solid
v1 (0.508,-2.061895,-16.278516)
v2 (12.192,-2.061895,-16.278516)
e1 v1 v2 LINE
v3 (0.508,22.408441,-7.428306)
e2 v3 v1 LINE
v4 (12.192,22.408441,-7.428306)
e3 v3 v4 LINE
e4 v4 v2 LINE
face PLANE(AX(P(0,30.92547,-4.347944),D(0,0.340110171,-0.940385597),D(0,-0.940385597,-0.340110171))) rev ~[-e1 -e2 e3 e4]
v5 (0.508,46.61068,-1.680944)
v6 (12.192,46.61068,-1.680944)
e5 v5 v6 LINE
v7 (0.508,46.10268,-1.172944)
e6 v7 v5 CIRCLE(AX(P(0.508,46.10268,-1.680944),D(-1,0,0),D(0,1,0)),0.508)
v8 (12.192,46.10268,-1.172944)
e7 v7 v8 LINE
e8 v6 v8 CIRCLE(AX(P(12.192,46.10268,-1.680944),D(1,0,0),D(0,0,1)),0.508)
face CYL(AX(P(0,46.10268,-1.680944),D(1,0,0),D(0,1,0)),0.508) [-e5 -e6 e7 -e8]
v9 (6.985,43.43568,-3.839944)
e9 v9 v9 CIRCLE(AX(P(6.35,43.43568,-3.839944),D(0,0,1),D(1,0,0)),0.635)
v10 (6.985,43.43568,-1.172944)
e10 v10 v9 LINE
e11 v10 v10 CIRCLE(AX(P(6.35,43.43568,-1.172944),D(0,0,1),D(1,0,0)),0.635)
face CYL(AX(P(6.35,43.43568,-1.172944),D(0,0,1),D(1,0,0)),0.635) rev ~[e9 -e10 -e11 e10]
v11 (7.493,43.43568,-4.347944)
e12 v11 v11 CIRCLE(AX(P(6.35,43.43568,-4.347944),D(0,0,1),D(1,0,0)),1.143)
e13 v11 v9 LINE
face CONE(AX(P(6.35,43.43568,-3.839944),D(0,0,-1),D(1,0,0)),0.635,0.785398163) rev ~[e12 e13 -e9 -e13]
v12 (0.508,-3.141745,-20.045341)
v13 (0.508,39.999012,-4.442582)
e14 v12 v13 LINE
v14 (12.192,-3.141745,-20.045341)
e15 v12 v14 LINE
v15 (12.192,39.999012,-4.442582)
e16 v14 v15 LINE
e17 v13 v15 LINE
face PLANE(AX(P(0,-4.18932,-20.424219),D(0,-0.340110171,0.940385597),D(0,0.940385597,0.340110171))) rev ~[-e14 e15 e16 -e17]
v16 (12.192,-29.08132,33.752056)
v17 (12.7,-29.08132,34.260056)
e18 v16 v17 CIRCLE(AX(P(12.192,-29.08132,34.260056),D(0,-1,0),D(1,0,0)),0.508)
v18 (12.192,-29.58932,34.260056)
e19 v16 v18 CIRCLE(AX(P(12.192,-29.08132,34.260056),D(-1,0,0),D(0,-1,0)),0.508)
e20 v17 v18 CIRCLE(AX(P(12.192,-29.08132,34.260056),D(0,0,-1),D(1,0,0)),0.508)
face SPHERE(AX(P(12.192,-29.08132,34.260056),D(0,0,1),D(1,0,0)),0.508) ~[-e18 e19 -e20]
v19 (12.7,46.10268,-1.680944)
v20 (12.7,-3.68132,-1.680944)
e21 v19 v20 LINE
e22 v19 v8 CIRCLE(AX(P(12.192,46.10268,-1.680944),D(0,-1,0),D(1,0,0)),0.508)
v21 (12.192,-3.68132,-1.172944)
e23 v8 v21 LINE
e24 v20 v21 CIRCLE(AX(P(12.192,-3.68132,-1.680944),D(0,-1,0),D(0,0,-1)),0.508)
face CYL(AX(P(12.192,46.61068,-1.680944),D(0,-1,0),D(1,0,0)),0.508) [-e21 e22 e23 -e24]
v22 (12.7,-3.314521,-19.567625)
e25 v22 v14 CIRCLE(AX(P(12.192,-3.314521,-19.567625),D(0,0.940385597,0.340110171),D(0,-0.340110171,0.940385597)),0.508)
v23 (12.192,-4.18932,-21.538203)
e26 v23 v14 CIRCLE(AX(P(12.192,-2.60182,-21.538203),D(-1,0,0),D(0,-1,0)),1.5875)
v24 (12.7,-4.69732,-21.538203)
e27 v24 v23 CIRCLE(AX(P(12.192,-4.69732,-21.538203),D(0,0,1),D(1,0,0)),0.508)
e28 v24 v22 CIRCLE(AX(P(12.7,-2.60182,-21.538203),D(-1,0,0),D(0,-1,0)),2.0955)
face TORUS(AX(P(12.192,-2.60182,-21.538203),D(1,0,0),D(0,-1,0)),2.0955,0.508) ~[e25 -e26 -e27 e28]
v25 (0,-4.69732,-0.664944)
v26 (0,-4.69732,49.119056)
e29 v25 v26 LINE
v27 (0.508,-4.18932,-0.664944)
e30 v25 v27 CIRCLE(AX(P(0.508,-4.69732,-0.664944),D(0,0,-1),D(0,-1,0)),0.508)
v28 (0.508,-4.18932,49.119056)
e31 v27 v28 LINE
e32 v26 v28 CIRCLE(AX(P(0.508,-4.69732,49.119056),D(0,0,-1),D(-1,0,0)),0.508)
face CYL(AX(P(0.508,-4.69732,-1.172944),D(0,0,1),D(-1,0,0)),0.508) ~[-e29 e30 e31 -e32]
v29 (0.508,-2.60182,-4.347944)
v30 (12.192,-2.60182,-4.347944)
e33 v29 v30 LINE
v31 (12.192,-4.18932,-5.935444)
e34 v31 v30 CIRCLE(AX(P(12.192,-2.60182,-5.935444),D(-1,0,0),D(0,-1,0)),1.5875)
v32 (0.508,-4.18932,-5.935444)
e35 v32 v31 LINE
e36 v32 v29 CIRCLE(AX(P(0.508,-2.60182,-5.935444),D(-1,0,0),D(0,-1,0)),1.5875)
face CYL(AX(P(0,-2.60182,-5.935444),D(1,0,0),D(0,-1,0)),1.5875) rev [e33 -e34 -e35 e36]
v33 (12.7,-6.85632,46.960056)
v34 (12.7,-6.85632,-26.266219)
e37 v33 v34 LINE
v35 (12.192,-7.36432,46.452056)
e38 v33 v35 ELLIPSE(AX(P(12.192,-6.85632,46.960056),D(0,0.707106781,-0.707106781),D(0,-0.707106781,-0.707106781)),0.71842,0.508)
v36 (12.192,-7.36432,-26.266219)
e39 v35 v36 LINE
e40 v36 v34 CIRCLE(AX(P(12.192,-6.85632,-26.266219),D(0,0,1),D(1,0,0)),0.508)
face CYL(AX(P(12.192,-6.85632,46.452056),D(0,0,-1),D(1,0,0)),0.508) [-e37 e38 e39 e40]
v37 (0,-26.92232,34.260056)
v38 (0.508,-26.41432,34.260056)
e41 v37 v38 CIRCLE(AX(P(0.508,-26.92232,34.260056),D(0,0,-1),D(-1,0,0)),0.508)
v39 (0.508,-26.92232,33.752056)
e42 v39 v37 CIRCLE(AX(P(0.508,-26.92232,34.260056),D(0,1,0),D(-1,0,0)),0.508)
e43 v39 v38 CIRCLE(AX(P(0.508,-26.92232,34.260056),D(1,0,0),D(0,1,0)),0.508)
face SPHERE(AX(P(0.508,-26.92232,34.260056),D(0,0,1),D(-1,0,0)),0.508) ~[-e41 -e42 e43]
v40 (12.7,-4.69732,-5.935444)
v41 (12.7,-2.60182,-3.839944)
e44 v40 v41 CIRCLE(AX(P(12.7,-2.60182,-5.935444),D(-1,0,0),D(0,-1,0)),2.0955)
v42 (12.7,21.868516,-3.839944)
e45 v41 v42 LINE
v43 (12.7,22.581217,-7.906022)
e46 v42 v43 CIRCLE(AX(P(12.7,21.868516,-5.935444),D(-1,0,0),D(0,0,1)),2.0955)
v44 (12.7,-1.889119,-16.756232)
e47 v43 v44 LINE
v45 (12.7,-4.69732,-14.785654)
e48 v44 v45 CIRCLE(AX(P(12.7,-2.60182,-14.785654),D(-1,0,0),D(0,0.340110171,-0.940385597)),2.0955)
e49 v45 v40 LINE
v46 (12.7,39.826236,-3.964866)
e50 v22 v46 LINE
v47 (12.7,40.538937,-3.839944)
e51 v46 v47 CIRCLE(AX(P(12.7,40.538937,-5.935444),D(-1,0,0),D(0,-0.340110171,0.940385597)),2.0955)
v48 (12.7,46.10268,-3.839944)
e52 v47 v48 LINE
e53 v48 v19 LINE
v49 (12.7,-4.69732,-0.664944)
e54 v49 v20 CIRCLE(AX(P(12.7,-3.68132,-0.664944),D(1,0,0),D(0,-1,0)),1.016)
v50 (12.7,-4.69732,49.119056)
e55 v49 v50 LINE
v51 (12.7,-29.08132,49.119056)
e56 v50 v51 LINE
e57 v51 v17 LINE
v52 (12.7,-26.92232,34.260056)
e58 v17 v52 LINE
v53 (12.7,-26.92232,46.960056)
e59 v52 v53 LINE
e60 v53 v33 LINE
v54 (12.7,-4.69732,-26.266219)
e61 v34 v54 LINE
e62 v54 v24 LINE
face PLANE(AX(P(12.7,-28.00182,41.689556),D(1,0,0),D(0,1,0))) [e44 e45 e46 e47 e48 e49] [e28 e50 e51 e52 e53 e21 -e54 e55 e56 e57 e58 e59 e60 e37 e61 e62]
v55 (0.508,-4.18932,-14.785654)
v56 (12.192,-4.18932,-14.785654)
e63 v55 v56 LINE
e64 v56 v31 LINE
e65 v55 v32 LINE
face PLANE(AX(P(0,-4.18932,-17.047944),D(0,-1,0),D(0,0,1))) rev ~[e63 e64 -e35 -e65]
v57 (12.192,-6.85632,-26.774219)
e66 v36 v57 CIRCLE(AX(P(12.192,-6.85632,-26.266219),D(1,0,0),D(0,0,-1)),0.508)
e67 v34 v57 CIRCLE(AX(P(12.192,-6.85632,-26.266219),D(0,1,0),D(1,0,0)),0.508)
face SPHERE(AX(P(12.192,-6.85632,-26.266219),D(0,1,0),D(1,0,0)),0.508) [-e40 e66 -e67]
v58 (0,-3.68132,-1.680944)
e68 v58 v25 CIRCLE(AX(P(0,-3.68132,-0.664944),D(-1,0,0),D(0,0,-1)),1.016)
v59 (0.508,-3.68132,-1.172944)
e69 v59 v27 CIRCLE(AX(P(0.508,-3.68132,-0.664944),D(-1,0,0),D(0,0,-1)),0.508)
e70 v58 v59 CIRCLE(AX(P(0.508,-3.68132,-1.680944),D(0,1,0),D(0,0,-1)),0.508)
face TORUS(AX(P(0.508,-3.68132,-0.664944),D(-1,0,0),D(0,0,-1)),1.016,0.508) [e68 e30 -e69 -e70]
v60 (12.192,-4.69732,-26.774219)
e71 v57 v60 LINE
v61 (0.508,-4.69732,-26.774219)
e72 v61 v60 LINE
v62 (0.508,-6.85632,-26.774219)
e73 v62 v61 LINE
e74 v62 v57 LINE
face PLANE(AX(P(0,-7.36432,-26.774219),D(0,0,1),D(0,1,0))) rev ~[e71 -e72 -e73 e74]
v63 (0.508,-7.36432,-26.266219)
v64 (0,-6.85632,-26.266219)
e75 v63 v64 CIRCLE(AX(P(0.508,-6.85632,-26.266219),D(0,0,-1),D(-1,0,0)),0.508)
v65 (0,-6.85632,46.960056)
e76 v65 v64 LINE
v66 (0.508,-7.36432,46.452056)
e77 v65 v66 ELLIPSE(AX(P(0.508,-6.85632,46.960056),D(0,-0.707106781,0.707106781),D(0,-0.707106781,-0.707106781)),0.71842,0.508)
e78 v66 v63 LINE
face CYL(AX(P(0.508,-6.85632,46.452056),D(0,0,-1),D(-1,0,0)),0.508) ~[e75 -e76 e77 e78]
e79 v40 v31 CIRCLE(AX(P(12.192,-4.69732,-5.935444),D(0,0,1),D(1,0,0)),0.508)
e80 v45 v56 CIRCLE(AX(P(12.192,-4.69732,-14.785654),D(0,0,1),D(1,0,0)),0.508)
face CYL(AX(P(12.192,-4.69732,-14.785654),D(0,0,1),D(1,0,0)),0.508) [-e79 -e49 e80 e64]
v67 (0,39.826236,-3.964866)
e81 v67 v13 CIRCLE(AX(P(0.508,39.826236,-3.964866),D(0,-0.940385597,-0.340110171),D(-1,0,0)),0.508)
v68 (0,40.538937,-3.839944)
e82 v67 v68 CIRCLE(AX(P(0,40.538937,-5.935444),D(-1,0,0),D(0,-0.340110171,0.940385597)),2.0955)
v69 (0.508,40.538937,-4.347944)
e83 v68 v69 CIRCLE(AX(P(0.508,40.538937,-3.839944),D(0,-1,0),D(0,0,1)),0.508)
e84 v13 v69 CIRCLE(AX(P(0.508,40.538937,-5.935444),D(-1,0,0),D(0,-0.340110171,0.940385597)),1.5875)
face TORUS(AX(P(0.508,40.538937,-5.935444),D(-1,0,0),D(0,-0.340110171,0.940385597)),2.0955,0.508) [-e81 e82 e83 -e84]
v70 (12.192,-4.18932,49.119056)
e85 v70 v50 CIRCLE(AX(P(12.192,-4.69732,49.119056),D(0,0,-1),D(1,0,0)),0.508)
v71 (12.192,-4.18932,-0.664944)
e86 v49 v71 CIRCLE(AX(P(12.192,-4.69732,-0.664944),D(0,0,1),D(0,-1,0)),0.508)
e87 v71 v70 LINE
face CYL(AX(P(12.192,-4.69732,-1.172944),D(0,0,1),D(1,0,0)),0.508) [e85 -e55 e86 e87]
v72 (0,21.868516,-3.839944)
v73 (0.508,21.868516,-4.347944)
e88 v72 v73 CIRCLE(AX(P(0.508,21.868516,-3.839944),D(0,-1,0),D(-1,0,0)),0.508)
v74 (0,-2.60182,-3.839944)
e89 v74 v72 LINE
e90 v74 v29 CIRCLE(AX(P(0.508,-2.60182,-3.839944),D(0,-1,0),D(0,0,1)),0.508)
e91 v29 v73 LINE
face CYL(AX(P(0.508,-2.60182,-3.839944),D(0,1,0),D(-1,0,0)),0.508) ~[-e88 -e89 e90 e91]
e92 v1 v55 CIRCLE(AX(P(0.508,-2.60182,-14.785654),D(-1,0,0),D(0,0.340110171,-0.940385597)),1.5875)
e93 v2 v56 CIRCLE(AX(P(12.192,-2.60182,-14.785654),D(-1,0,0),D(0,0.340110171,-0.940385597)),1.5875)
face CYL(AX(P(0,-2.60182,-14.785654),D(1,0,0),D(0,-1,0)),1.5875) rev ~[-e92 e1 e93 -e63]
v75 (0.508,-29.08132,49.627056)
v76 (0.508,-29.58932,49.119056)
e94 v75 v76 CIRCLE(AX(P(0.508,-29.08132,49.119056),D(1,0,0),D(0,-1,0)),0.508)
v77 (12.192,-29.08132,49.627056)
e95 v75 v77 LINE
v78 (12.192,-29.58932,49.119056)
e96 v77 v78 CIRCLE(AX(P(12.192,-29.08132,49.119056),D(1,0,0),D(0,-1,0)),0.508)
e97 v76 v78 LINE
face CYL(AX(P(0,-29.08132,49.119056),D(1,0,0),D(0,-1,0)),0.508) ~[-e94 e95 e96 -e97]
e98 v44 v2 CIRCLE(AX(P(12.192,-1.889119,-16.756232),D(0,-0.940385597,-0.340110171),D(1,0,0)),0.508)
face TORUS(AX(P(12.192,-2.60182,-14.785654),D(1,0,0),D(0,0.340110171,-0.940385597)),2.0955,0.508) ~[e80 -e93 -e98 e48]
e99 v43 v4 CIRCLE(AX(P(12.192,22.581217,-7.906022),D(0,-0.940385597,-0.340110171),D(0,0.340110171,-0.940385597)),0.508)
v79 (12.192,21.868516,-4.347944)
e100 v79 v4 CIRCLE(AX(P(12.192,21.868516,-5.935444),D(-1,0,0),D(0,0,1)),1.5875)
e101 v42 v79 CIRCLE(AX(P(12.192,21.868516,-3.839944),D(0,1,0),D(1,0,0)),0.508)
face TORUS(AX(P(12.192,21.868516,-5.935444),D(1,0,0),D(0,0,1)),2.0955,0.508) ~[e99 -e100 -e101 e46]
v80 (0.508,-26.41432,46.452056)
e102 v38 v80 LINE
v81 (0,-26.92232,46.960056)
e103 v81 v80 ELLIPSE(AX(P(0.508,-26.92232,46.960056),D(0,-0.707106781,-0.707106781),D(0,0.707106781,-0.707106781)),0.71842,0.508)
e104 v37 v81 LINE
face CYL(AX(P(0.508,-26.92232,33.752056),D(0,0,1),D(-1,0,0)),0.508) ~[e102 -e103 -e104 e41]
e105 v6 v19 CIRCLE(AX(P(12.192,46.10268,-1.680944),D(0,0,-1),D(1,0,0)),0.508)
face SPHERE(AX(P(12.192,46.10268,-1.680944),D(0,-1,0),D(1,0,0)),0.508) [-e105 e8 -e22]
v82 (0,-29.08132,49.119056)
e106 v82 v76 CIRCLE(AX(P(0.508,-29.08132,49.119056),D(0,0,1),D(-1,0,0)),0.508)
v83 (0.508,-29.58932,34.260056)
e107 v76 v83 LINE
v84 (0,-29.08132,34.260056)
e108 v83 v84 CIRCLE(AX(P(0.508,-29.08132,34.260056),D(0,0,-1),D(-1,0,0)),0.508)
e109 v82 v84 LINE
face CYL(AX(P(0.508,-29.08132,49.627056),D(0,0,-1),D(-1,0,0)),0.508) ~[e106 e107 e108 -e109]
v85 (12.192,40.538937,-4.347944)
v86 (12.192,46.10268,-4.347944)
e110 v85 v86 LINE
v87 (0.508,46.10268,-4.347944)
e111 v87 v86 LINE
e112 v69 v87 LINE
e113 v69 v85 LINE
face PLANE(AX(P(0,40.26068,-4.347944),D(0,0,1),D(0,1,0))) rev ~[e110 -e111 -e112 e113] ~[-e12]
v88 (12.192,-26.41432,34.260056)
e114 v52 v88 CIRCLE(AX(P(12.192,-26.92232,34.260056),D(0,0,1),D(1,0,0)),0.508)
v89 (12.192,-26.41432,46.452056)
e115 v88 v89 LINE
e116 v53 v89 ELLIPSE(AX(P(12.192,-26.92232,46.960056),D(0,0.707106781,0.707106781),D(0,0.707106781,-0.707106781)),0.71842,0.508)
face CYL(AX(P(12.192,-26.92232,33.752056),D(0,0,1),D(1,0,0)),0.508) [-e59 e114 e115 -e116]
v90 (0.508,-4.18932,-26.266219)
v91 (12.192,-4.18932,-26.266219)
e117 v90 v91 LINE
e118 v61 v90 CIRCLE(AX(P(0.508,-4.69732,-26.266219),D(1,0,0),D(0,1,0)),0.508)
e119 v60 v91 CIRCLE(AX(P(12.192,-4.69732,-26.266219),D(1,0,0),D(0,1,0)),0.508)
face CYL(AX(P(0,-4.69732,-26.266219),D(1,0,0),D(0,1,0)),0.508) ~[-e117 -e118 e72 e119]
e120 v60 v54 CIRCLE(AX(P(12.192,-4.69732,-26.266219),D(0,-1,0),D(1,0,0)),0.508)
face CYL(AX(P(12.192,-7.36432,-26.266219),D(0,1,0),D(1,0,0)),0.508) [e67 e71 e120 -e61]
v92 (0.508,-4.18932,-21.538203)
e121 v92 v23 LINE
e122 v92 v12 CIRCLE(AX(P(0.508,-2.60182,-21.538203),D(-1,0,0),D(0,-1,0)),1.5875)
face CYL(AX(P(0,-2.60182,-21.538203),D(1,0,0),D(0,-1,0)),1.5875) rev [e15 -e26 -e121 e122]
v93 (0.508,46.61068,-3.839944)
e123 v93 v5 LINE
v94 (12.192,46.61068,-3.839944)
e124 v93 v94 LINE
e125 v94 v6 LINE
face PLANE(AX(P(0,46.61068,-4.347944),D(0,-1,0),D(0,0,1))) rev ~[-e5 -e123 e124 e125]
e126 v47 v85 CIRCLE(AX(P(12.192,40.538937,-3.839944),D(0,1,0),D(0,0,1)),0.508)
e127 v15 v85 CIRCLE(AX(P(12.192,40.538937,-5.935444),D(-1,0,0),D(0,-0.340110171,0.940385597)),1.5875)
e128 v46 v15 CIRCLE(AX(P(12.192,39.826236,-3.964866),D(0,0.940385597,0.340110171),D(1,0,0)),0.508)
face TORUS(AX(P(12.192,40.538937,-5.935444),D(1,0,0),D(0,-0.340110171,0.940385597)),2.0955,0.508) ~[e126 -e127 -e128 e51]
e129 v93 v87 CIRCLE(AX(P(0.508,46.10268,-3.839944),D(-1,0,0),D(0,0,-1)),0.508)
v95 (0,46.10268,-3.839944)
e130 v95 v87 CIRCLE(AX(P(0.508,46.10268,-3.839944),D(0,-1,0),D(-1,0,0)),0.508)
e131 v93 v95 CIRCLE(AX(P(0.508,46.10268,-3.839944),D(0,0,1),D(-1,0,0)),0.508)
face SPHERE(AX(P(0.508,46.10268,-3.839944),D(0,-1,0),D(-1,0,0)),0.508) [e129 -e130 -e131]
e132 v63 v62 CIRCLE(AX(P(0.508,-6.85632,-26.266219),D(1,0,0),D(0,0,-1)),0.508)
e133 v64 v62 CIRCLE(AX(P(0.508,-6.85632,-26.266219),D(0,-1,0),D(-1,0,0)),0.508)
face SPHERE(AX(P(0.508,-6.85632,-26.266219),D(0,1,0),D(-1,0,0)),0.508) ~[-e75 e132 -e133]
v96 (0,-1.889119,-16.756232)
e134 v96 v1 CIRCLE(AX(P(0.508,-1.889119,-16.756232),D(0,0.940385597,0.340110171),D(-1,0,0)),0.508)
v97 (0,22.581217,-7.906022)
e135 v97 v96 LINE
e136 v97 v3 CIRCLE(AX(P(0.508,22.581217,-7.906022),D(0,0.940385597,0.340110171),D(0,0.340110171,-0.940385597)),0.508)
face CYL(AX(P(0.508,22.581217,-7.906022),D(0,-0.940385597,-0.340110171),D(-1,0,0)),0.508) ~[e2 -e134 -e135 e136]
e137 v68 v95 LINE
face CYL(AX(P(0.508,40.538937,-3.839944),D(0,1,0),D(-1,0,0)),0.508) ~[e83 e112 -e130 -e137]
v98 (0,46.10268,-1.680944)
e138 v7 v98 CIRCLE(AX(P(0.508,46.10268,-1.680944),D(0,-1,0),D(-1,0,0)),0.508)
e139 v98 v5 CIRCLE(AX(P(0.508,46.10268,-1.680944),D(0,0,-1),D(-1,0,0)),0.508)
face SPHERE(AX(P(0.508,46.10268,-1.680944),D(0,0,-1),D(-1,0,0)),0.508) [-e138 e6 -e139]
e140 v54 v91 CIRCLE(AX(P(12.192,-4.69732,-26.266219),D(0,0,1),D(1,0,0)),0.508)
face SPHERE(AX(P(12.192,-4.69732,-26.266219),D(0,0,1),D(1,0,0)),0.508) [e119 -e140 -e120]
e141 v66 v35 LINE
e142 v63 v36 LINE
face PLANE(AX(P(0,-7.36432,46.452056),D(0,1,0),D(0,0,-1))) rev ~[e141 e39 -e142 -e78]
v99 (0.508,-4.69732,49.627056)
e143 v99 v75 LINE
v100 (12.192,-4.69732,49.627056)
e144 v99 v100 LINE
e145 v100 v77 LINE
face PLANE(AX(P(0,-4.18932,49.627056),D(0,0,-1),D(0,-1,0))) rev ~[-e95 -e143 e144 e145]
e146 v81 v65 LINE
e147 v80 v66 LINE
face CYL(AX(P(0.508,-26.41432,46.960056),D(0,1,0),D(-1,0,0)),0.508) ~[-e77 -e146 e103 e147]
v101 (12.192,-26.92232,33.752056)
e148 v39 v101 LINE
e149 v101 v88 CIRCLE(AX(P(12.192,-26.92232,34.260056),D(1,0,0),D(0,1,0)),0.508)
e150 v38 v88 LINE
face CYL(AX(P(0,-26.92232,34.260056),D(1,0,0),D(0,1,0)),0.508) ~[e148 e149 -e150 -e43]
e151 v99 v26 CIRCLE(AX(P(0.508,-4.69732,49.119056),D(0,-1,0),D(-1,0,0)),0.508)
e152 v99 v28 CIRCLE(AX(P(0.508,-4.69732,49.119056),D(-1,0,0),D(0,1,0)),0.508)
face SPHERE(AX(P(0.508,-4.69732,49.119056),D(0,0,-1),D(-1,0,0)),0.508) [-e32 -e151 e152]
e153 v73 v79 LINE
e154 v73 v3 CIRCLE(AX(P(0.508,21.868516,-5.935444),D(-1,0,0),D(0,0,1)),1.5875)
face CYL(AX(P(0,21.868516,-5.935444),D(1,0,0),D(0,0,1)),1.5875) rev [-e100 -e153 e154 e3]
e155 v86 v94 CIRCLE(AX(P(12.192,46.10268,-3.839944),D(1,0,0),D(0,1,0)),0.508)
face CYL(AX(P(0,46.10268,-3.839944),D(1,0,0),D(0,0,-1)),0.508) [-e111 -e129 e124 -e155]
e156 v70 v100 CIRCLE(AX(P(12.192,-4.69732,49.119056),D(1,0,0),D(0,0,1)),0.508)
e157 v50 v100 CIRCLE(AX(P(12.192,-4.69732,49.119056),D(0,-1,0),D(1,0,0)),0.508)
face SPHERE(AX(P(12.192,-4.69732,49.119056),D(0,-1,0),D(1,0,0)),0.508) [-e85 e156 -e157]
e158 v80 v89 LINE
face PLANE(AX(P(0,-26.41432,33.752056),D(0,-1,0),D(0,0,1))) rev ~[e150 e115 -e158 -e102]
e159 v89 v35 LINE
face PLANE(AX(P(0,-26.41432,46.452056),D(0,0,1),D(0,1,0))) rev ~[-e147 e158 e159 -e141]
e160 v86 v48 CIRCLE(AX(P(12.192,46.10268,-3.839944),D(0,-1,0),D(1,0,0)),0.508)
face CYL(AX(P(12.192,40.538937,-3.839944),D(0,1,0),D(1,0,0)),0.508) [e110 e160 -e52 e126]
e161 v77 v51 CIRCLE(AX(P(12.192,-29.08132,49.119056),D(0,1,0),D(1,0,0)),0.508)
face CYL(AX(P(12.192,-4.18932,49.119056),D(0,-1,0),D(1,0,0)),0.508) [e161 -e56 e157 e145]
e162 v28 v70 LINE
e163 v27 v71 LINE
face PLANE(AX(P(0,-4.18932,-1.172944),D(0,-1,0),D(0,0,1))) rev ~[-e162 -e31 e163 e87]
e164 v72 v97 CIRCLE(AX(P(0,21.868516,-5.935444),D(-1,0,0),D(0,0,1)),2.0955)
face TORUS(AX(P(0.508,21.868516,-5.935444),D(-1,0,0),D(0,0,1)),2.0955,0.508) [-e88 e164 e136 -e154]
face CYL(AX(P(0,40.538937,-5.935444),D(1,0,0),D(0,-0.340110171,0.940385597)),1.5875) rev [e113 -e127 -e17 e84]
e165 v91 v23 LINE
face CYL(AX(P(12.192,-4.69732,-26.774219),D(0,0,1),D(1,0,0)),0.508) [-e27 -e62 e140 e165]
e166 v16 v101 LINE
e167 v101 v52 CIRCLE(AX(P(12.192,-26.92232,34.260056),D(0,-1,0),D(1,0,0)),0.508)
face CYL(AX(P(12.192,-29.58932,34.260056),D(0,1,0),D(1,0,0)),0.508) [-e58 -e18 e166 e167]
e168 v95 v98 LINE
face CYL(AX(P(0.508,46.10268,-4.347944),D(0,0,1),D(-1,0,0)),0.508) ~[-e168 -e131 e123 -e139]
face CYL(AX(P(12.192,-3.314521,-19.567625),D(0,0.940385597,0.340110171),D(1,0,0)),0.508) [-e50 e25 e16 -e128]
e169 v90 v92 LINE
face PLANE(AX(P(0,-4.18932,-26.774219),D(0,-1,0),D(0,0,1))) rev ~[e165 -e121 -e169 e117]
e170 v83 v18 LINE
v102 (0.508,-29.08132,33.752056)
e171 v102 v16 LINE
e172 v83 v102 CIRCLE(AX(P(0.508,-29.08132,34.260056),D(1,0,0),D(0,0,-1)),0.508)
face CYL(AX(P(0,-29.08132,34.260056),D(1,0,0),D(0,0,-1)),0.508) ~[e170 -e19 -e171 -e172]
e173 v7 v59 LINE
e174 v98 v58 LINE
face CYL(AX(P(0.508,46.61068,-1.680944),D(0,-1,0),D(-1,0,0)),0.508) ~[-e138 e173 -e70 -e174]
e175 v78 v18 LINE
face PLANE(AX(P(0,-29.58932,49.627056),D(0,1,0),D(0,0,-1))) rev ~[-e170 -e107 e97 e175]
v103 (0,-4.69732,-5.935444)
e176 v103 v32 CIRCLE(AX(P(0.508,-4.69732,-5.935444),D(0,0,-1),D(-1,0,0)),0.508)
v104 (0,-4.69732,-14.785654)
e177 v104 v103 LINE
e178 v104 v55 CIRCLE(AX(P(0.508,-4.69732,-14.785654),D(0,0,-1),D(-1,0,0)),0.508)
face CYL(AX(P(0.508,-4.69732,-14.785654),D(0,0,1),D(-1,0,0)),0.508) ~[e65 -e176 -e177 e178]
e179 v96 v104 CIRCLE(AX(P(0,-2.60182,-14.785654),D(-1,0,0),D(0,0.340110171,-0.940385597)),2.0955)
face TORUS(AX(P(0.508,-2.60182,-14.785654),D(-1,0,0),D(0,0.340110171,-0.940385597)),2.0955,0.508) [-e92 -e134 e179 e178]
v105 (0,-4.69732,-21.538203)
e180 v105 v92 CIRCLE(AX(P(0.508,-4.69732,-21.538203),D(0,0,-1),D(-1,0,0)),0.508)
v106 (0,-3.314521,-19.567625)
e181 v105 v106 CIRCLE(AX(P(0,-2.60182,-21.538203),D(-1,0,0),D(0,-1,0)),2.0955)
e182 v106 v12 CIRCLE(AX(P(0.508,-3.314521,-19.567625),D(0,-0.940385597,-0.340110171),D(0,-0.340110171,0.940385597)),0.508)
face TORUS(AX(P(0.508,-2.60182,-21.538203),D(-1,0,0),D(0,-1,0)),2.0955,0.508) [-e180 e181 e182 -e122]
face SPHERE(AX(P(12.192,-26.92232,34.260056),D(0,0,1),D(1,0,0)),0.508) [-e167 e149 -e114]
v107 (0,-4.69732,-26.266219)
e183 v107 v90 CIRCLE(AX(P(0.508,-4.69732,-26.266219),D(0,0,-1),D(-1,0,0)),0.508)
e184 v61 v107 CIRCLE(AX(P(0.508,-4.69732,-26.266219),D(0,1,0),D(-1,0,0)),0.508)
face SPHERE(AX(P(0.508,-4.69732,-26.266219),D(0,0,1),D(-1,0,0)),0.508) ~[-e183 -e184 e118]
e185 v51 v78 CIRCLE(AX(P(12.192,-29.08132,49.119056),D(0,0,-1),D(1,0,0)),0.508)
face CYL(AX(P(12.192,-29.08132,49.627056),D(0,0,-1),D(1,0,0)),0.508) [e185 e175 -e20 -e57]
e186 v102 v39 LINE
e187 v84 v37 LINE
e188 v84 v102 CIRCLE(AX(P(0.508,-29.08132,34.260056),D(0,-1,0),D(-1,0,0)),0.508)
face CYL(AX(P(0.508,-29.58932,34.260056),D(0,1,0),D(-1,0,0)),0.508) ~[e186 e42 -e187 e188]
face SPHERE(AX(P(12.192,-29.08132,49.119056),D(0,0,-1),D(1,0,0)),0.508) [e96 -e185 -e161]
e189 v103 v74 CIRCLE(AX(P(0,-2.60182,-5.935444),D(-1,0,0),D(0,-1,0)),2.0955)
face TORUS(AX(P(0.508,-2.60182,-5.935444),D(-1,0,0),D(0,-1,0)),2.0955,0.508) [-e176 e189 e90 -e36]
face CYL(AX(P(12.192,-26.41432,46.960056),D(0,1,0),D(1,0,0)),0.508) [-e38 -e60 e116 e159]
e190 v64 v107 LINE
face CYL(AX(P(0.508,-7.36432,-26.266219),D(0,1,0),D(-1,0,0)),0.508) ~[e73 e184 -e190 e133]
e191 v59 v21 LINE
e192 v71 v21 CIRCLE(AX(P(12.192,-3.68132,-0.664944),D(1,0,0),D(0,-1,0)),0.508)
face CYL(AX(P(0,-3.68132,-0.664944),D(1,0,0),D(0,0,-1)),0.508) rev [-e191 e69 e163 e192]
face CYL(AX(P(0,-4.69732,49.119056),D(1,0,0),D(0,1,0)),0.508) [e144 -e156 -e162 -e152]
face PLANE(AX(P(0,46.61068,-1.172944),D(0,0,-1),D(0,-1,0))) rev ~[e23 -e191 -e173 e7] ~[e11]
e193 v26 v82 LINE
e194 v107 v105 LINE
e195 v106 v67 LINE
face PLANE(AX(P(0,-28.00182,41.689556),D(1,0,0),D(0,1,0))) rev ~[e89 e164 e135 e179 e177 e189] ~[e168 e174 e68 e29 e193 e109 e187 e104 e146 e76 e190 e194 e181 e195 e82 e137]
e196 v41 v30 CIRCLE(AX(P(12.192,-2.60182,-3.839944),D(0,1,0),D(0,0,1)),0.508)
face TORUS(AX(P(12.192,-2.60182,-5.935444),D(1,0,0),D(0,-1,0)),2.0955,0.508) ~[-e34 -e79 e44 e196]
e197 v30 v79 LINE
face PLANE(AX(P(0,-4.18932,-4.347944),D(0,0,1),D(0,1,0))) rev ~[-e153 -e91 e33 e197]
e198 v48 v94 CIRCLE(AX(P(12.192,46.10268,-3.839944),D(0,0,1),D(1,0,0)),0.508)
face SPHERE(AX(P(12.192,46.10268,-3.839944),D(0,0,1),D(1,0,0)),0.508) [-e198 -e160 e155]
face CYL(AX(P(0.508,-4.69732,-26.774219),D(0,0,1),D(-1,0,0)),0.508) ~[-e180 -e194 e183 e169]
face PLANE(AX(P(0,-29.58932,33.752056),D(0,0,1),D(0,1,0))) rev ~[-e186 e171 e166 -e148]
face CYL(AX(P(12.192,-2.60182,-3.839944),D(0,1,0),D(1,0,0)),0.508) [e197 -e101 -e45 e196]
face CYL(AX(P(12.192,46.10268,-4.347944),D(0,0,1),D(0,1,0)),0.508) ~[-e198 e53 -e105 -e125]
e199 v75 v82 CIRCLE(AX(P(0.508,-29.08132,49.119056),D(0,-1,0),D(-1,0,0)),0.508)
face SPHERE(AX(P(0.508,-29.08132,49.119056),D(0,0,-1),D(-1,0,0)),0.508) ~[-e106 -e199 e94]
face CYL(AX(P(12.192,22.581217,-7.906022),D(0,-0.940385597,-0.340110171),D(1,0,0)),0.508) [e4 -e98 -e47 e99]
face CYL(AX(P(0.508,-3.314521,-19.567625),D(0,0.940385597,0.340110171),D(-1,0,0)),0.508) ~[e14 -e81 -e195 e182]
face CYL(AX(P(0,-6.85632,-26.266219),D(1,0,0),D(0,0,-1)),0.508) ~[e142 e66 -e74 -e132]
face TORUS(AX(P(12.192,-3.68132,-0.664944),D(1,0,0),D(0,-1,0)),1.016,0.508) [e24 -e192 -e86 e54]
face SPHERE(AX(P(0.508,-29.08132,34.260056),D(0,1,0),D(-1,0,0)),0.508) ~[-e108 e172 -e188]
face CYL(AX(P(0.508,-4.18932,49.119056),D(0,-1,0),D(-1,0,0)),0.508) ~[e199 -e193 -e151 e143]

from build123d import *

# Parameters (mm, degrees)
F0_W     = 19.05
F0_H     = 3.175
F1_DEPTH = 12.7
F2_R     = 1.5875
F3_R     = 0.635
F4_DEPTH = 25.4
F5_SIZE  = 0.508
F6_R     = 0.508


with BuildPart() as f1:
    # F0 (on Right) → F1 (new body)
    with BuildSketch(Plane.YZ):
        Polygon((-26.4143199086, 49.6270560861), (-29.5893199086, 49.6270560861), (-29.5893199086, 33.7520560861), (-26.4143199086, 33.7520560861), (-26.4143199086, 46.4520560861), align=None)
        with Locations((-16.8893199086, 48.0395560861)):
            Rectangle(F0_W, F0_H)
        Polygon((-4.1893199086, 49.6270560861), (-7.3643199086, 49.6270560861), (-7.3643199086, 46.4520560861), (-7.3643199086, -26.7742185068), (-4.1893199086, -26.7742185068), (-4.1893199086, -20.4242185068), (-4.1893199086, -17.0479439139), (-4.1893199086, -4.3479439139), (-4.1893199086, -1.1729439139), align=None)
        Polygon((46.6106800914, -1.1729439139), (-4.1893199086, -1.1729439139), (-4.1893199086, -4.3479439139), (30.9254696988, -4.3479439139), (40.2606800914, -4.3479439139), (46.6106800914, -4.3479439139), align=None)
        Polygon((-4.1893199086, -17.0479439139), (-4.1893199086, -20.4242185068), (40.2606800914, -4.3479439139), (30.9254696988, -4.3479439139), align=None)
    extrude(amount=F1_DEPTH)

    # F2
    f2_edges = [f1.edges().sort_by_distance(p)[0] for p in [
        (6.35, -4.18932, -4.347944),
        (6.35, 30.92547, -4.347944),
        (6.35, -4.18932, -17.047944),
        (6.35, -4.18932, -20.424219),
        (6.35, 40.26068, -4.347944),
    ]]
    fillet(f2_edges, radius=F2_R)

    # F3 (on face) → F4 (cut)
    with BuildSketch(Plane.XY.offset(-1.1729439139)):
        with Locations((6.35, 43.4356800914)):
            Circle(F3_R)
    extrude(amount=-F4_DEPTH, mode=Mode.SUBTRACT)

    # F5
    f5_edges = [f1.edges().sort_by_distance(p)[0] for p in [
        (5.715, 43.43568, -4.347944),
    ]]
    chamfer(f5_edges, length=F5_SIZE)

    # F6
    f6_edges = [f1.edges().sort_by_distance(p)[0] for p in [
        (12.7, -29.58932, 41.689556),
        (12.7, -16.88932, 49.627056),
        (12.7, -4.18932, 24.227056),
        (12.7, 21.21068, -1.172944),
        (12.7, 46.61068, -2.760444),
        (12.7, -4.18932, -24.156211),
        (12.7, -3.901298, -20.62633),
        (12.7, -5.77682, -26.774219),
        (12.7, 18.428633, -12.243961),
        (12.7, -7.36432, 9.838919),
        (12.7, 40.264858, -4.371782),
        (12.7, -16.88932, 46.452056),
        (12.7, 43.574808, -4.347944),
        (12.7, -26.41432, 40.102056),
        (12.7, -28.00182, 33.752056),
        (12.7, -4.18932, -10.360549),
        (12.7, -3.513693, -16.085132),
        (12.7, -3.724352, -4.812912),
        (12.7, 10.173273, -11.853411),
        (12.7, 9.633348, -4.347944),
        (12.7, 23.432177, -5.661366),
        (0, -4.18932, -24.156211),
        (0, -3.901298, -20.62633),
        (0, -5.77682, -26.774219),
        (0, 18.428633, -12.243961),
        (0, -7.36432, 9.838919),
        (0, 40.264858, -4.371782),
        (0, -16.88932, 46.452056),
        (0, 43.574808, -4.347944),
        (0, -26.41432, 40.102056),
        (0, 46.61068, -2.760444),
        (0, -28.00182, 33.752056),
        (0, 21.21068, -1.172944),
        (0, -29.58932, 41.689556),
        (0, -4.18932, 24.227056),
        (0, -16.88932, 49.627056),
        (0, -4.18932, -10.360549),
        (0, -3.513693, -16.085132),
        (0, -3.724352, -4.812912),
        (0, 10.173273, -11.853411),
        (0, 9.633348, -4.347944),
        (0, 23.432177, -5.661366),
        (6.35, -29.58932, 49.627056),
        (6.35, -29.58932, 33.752056),
        (6.35, -4.18932, 49.627056),
        (6.35, 46.61068, -1.172944),
        (6.35, 46.61068, -4.347944),
        (6.35, -4.18932, -1.172944),
        (6.35, -7.36432, -26.774219),
        (6.35, -4.18932, -26.774219),
        (6.35, -26.41432, 33.752056),
    ]]
    fillet(f6_edges, radius=F6_R)


solid = f1.part
